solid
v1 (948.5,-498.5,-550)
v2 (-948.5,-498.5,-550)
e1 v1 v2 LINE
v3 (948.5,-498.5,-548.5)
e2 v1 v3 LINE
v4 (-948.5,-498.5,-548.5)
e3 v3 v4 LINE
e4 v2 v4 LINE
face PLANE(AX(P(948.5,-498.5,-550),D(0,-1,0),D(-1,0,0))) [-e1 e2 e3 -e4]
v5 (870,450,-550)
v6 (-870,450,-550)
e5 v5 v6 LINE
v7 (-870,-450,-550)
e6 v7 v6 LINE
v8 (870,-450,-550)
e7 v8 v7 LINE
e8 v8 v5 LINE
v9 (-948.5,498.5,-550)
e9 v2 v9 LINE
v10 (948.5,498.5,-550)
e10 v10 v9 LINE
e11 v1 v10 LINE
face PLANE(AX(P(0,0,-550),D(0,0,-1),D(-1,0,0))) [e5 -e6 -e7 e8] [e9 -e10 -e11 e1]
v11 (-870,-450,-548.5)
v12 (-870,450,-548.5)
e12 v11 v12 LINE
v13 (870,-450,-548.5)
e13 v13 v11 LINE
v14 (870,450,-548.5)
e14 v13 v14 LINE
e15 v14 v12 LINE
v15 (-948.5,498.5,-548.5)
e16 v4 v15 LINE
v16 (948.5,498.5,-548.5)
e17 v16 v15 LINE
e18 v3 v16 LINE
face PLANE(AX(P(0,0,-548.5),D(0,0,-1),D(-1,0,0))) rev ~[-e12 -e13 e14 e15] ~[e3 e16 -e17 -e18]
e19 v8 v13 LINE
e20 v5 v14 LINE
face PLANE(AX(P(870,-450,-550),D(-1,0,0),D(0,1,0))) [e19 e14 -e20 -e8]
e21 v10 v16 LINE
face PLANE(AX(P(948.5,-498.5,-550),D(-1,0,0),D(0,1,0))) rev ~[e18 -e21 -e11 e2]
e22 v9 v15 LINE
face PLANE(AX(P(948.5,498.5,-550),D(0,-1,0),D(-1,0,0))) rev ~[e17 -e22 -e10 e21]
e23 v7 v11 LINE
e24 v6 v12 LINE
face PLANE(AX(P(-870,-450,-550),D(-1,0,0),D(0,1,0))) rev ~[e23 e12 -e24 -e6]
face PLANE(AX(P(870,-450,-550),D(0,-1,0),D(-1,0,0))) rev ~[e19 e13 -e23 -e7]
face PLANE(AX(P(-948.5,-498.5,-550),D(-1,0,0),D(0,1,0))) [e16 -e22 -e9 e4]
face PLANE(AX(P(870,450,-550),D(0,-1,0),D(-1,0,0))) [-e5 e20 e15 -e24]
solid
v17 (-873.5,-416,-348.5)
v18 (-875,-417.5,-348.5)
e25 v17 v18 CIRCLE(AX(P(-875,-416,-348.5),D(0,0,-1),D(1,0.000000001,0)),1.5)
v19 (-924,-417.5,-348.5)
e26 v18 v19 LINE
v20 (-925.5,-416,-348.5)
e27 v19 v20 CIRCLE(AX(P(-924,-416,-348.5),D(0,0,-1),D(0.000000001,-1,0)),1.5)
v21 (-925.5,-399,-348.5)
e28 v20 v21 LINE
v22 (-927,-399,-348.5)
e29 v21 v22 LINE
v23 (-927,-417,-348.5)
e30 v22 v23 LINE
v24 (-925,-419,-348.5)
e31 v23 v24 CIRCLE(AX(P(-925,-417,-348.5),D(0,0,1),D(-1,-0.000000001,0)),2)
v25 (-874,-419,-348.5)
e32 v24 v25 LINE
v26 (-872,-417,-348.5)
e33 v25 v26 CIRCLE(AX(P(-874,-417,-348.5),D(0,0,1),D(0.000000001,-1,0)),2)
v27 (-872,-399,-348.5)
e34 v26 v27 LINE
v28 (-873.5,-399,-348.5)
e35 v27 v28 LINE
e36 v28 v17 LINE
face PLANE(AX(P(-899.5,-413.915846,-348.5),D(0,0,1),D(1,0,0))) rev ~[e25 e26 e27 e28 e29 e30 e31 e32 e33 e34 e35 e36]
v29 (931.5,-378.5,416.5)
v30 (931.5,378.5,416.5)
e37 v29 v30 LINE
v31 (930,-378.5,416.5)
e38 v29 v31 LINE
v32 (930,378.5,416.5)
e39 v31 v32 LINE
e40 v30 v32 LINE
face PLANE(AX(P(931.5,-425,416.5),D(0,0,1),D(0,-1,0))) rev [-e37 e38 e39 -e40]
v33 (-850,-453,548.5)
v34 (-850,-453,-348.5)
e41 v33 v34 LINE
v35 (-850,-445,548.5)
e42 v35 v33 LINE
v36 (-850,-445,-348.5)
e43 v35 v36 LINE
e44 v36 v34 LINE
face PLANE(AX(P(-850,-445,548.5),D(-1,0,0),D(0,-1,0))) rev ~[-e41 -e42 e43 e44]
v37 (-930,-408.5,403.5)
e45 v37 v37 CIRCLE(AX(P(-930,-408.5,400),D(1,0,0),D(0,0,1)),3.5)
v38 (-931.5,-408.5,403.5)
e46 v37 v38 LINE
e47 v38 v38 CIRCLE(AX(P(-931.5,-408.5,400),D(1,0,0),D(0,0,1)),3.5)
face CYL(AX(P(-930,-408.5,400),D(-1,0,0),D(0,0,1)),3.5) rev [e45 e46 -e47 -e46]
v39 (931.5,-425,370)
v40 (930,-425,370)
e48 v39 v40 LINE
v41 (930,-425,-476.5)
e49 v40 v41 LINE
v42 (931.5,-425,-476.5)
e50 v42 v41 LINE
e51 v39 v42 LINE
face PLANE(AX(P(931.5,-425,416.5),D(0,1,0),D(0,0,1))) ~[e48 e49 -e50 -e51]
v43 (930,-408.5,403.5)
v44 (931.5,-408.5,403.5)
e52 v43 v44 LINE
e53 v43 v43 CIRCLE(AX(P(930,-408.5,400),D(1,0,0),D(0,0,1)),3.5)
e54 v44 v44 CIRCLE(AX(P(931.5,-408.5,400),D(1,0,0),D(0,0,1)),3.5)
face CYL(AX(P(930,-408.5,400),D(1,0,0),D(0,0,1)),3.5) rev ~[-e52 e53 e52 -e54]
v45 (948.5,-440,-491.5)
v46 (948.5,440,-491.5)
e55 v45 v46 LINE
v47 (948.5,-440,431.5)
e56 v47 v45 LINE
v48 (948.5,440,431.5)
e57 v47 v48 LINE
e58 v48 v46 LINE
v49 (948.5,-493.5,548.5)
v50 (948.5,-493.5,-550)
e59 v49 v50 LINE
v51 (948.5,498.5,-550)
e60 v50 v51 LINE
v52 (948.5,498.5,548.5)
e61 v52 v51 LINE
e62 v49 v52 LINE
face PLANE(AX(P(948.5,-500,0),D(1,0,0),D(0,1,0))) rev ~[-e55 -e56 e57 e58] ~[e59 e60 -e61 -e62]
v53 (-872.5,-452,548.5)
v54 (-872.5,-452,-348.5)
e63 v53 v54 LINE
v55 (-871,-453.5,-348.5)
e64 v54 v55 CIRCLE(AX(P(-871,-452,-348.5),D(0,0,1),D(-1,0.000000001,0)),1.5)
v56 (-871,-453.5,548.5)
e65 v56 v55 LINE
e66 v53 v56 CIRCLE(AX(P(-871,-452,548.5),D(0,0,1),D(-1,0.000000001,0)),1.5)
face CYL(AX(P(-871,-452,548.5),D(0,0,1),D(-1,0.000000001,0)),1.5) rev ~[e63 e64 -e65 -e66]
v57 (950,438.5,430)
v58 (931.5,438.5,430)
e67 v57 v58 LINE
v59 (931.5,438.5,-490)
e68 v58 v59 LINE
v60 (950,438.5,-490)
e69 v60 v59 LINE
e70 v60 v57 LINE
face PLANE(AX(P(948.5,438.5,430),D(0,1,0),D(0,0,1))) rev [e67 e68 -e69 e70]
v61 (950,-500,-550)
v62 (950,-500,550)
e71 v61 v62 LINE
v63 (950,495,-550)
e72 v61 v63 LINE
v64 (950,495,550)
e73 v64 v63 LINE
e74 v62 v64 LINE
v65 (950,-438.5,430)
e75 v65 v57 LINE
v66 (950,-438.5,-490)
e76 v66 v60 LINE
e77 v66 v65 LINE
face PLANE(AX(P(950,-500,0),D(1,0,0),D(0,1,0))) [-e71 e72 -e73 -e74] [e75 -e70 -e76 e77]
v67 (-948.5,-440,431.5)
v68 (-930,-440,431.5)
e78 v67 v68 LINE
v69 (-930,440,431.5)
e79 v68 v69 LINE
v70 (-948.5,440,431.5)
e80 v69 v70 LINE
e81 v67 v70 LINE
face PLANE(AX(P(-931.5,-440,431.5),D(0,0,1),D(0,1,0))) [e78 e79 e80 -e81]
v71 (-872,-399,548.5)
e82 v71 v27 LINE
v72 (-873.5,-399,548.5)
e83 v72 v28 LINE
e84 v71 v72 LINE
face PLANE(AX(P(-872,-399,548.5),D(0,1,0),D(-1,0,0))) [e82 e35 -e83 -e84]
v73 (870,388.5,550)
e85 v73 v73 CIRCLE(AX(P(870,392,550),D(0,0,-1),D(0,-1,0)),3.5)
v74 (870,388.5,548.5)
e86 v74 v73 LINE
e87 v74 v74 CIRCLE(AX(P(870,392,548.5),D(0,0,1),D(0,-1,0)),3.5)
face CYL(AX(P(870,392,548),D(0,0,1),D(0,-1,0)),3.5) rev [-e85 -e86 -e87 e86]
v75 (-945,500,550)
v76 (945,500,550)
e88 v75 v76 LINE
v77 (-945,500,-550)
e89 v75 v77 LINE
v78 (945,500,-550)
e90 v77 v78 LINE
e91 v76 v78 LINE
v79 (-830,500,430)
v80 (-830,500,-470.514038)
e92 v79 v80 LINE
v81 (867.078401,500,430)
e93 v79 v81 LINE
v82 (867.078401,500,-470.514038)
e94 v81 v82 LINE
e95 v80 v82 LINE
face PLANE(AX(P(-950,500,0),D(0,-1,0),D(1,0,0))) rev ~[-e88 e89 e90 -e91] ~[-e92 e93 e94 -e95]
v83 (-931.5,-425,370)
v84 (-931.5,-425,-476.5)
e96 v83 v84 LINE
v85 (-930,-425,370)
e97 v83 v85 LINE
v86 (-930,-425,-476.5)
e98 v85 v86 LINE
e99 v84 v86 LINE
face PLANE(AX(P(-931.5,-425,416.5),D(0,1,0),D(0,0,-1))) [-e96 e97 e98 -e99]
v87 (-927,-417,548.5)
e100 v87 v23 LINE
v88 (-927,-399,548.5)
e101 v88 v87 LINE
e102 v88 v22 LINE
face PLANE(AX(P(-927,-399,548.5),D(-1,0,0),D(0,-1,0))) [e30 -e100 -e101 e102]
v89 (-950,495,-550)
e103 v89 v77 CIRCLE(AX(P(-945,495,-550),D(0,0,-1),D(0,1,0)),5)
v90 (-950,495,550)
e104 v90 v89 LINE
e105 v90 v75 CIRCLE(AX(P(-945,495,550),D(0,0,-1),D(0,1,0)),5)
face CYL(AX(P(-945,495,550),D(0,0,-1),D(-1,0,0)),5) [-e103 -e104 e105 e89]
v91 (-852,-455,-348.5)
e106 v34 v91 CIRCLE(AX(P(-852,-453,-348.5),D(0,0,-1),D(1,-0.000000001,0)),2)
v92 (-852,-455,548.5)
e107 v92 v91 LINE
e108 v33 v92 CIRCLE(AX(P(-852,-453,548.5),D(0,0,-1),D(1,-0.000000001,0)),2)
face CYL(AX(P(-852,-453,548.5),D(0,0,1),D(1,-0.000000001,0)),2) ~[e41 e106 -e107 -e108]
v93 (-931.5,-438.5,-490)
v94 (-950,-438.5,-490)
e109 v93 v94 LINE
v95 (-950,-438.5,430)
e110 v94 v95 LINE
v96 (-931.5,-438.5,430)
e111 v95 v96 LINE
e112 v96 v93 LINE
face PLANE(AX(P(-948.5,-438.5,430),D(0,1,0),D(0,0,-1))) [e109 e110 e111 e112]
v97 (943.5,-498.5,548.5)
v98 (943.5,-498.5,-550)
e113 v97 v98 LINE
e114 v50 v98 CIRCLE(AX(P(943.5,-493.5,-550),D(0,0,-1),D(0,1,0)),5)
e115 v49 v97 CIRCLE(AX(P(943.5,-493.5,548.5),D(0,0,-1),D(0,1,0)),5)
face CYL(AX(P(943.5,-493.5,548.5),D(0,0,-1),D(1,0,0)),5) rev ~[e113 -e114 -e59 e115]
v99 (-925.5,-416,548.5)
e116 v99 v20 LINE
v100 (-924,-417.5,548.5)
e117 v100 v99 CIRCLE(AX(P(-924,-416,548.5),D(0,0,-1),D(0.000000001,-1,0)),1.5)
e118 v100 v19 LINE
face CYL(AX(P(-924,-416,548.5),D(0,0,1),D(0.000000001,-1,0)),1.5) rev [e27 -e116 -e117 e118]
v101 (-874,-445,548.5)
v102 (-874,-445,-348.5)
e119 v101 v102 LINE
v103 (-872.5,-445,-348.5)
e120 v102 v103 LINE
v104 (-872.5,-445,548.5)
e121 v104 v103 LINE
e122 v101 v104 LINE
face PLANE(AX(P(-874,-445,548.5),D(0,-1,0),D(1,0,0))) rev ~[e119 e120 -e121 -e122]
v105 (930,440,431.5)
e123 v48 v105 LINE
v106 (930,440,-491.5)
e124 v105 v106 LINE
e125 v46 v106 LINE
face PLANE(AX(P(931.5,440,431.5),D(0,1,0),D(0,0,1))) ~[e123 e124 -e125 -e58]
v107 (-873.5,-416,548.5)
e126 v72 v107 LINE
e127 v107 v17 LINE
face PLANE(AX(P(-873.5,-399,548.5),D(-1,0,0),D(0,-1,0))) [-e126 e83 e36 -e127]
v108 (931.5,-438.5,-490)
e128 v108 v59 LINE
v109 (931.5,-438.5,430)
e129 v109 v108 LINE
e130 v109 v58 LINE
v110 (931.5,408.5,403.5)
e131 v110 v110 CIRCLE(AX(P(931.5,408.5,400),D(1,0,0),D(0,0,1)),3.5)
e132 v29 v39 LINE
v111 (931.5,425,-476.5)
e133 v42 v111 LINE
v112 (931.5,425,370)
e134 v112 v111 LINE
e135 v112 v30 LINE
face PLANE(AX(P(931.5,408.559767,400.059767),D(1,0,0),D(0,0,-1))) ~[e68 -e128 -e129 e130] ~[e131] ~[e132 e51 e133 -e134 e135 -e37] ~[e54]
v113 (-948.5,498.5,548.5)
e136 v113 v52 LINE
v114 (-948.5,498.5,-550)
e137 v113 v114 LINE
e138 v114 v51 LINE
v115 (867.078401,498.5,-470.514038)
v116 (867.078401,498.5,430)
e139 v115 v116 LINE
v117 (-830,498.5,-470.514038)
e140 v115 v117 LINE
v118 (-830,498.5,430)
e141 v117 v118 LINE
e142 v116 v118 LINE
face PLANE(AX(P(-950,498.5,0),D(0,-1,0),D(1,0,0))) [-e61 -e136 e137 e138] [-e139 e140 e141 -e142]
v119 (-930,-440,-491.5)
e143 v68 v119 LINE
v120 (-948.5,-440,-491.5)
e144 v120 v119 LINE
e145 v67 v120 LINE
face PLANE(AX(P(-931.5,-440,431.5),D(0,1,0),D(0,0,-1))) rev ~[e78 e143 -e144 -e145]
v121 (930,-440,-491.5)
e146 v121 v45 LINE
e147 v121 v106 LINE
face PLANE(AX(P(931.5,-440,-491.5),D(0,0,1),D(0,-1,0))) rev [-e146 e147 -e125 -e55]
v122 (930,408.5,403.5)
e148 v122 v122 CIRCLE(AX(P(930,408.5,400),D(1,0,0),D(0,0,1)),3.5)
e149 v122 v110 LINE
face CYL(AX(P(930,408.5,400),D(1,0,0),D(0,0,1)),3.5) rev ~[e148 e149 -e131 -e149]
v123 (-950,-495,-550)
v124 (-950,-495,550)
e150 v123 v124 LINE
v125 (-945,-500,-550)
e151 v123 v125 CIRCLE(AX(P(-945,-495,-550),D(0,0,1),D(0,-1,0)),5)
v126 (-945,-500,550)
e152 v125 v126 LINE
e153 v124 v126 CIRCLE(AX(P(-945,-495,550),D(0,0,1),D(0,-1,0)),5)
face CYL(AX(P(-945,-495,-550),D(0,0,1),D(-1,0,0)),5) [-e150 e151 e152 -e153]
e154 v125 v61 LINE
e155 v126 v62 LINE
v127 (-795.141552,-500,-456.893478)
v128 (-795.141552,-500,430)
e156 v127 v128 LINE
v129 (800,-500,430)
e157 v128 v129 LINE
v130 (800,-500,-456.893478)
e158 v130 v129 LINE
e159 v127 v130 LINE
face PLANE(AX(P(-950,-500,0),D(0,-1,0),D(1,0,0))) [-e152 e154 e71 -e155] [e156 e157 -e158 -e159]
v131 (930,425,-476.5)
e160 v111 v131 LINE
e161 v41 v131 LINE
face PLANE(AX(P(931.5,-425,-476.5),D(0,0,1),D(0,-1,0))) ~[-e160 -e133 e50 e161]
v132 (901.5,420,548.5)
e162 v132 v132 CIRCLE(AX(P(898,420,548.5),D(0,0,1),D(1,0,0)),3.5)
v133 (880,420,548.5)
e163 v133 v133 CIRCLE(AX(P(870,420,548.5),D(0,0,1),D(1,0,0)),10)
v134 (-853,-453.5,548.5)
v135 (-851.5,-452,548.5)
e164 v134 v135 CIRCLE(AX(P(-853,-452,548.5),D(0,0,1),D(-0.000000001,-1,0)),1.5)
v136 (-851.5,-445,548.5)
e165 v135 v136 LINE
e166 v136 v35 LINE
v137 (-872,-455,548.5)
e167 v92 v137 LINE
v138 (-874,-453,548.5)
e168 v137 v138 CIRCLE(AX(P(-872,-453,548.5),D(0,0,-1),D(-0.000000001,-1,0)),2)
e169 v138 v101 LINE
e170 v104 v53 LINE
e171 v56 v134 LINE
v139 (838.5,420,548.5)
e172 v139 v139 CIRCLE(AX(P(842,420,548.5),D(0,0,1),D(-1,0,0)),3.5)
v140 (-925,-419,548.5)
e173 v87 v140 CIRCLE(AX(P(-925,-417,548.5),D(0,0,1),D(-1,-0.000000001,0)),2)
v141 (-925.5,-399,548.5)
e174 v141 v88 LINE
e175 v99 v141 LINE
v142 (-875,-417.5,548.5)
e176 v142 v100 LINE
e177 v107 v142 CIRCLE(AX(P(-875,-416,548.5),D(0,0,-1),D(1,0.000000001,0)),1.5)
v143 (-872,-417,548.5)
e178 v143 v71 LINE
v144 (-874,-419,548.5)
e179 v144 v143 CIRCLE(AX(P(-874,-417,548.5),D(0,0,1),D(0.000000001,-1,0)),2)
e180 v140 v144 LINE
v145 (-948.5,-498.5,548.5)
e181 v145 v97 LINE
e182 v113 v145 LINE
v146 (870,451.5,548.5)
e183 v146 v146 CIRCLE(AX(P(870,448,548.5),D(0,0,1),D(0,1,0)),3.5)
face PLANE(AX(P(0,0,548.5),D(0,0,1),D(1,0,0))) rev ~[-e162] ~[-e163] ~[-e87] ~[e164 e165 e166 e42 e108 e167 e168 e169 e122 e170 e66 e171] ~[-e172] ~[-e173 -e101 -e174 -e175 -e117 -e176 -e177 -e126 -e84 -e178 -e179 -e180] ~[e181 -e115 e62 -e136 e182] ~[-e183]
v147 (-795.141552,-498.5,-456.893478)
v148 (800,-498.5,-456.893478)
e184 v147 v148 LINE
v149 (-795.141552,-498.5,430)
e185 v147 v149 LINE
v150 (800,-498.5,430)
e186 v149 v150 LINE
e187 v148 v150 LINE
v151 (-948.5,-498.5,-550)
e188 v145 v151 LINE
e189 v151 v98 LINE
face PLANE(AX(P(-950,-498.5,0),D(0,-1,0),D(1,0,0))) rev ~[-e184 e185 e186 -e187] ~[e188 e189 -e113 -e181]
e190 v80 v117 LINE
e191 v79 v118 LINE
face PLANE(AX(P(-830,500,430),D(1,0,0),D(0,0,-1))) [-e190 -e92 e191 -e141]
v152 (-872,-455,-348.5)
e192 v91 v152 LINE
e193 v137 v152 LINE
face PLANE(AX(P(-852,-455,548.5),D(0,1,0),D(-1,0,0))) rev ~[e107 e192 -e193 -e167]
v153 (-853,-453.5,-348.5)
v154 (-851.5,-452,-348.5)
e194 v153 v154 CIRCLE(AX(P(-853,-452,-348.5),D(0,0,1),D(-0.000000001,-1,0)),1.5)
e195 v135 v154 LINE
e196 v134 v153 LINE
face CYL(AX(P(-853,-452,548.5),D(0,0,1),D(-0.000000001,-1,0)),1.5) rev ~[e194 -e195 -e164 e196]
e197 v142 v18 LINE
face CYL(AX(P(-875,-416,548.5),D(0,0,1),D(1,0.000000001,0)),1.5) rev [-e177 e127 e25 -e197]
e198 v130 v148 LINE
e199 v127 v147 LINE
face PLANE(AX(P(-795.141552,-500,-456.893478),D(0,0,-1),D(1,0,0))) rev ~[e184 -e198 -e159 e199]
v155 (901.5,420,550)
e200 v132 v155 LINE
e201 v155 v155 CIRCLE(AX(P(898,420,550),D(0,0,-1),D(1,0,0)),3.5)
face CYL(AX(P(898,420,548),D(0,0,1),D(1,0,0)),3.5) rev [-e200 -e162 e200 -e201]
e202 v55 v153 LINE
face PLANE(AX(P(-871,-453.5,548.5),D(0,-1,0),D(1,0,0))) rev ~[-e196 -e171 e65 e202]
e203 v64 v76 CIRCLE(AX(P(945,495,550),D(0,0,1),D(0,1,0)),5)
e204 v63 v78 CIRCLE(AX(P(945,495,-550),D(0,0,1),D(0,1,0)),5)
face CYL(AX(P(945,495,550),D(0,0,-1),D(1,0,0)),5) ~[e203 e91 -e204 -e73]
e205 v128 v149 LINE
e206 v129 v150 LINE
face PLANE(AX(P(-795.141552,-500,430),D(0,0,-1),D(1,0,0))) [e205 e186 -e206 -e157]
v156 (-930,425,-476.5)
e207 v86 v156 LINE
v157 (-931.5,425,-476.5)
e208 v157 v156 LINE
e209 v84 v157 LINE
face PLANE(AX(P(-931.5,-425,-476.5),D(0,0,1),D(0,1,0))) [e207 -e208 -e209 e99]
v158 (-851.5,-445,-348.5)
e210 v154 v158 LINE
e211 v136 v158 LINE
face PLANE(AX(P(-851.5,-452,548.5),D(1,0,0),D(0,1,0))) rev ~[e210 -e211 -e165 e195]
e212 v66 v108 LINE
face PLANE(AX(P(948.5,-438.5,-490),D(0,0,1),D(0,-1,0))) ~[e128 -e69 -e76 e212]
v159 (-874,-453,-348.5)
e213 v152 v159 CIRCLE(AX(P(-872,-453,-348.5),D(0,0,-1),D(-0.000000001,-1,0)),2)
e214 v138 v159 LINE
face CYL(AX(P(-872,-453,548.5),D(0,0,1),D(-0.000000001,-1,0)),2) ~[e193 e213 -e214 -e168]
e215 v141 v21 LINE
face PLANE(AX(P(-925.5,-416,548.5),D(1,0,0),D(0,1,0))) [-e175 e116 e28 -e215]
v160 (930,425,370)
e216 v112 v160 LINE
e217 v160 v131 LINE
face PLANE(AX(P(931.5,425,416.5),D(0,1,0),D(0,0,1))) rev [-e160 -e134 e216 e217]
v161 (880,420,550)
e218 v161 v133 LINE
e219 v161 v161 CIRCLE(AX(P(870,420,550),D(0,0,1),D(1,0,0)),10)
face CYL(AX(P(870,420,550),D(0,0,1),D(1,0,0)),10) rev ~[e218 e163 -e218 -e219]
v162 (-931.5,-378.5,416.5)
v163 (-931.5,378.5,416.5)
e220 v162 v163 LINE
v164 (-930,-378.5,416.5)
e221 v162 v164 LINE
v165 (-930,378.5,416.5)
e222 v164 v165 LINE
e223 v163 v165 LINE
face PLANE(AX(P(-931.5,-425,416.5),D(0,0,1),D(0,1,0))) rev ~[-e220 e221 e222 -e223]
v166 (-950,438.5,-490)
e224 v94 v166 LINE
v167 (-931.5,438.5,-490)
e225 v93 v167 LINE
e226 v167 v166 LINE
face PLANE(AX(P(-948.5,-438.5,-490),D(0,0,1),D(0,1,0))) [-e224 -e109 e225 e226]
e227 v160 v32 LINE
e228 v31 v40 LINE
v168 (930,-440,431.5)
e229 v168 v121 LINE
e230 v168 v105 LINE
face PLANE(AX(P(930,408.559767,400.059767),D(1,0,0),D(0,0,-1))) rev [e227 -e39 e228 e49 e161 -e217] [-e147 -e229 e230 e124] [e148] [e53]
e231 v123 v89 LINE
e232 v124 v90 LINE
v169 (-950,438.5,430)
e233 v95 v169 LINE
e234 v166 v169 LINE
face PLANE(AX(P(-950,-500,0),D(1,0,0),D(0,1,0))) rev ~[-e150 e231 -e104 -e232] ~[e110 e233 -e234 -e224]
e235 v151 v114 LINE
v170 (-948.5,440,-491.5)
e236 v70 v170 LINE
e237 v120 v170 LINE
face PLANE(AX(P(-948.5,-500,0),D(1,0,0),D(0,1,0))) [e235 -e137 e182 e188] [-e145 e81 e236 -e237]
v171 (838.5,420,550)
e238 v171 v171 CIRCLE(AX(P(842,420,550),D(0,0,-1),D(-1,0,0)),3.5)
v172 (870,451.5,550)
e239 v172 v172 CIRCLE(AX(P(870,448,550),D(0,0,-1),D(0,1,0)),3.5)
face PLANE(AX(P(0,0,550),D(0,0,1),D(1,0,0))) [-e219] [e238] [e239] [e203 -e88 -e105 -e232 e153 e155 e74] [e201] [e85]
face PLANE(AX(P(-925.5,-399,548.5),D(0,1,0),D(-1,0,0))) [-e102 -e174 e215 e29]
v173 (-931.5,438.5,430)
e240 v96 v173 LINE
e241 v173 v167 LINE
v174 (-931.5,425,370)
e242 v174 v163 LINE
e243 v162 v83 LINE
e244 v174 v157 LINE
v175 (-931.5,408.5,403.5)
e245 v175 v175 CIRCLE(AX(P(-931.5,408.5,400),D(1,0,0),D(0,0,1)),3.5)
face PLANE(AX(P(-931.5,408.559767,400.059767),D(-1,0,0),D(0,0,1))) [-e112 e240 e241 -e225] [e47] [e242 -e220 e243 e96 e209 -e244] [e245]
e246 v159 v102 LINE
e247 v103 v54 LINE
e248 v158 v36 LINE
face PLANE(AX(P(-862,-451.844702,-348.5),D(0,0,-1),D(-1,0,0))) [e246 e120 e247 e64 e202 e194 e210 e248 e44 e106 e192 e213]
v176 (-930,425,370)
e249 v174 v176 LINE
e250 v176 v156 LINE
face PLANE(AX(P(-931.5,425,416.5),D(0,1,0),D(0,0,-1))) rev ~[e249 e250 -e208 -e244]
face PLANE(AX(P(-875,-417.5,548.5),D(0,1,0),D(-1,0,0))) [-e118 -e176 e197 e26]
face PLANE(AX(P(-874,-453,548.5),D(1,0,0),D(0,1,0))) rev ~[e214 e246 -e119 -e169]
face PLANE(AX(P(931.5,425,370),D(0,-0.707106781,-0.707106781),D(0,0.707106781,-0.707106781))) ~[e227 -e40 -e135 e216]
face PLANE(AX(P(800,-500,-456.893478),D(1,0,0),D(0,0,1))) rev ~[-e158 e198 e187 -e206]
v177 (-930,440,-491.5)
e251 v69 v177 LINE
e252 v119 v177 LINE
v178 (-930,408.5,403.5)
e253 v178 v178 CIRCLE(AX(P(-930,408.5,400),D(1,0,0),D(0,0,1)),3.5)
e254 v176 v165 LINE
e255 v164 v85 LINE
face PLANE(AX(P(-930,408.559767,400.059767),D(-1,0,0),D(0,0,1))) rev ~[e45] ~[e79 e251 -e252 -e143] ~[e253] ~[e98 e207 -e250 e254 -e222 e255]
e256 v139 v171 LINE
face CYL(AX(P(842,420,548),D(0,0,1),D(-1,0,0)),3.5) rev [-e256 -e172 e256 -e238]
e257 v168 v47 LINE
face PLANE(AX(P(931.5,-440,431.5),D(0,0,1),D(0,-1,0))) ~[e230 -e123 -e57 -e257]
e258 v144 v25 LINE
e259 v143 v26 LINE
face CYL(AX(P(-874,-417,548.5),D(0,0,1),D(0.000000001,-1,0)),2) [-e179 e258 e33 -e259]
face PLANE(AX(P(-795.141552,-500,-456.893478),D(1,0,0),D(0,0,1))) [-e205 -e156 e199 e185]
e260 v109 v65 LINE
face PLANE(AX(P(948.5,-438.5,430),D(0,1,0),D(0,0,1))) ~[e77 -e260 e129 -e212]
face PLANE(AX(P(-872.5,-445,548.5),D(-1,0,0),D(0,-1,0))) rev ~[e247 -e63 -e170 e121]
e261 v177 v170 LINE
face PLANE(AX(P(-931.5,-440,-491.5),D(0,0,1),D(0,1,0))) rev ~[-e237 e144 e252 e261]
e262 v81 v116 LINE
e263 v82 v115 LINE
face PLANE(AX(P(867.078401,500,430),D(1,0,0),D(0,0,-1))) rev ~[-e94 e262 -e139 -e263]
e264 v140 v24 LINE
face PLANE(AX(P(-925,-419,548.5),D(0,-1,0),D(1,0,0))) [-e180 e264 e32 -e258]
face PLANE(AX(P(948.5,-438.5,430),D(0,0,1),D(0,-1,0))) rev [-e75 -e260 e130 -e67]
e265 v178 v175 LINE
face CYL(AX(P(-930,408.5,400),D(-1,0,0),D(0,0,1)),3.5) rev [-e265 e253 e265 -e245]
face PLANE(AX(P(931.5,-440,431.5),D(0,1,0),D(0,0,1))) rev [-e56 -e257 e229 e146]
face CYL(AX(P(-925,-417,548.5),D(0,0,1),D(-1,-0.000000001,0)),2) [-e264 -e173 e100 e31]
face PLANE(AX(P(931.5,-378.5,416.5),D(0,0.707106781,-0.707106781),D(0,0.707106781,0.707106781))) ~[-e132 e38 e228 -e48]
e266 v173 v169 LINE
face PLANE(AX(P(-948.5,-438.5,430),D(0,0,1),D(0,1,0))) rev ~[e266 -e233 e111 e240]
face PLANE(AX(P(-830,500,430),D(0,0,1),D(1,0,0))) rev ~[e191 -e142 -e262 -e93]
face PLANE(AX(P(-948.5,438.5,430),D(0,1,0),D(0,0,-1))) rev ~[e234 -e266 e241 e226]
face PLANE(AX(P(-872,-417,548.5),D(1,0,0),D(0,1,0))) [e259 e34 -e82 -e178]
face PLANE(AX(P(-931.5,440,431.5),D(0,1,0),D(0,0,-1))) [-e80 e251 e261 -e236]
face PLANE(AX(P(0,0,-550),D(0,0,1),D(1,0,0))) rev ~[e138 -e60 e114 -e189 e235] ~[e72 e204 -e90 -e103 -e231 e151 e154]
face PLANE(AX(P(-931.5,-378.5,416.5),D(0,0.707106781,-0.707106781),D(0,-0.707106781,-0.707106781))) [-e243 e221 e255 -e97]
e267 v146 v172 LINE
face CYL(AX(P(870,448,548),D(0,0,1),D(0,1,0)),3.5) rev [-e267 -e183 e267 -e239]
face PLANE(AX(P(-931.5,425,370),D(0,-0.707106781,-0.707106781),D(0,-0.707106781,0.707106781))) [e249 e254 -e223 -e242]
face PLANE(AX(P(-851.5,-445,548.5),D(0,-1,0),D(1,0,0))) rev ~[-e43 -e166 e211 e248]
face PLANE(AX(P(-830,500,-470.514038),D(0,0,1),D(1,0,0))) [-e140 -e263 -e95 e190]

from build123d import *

# Parameters (mm, degrees)
SKETCH_1_W                     = 1900
SKETCH_1_H                     = 1000
EXTRUDE_1_DEPTH                = 550
SHELL_1_T                      = -1.5
SKETCH_2_W                     = 1897
SKETCH_2_H                     = 997
SKETCH_2_W_2                   = 1740
SKETCH_2_H_2                   = 900
EXTRUDE_2_DEPTH                = 1.5
FILLET_1_R                     = 5
SKETCH_9_R                     = 10
CUT_EXTRUDE_3_DEPTH            = 10
SKETCH_10_W                    = 1697.078401096
SKETCH_10_H                    = 900.514037569
CUT_EXTRUDE_4_DEPTH            = 20
SKETCH_18_W                    = 920
SKETCH_18_H                    = 877
CUT_EXTRUDE_5_DEPTH            = 1.5
SKETCH_34_W                    = 923
SKETCH_34_H                    = 880
SKETCH_34_W_2                  = 920
SKETCH_34_H_2                  = 877
EXTRUDE_6_DEPTH                = 17
SKETCH_35_W                    = 923
SKETCH_35_H                    = 880
SKETCH_35_W_2                  = 893
SKETCH_35_H_2                  = 850
EXTRUDE_7_DEPTH                = 1.5
EXTRUDE_8_DEPTH                = 1.5
HOLE_WIZARD_7_0_7_1_AT_2_COUNT = 2
HOLE_WIZARD_7_0_7_1_AT_2_PITCH = 817
EXTRUDE_9_DEPTH                = 897
EXTRUDE_10_DEPTH               = 897
PATTERN_CIRCULAR_2_COUNT       = 4
SKETCH_84_W                    = 1595.14155231
SKETCH_84_H                    = 886.893477963
CUT_EXTRUDE_22_DEPTH           = 10


with BuildPart() as part:
    # 草图1 → 凸台-拉伸1 (new body, symmetric)
    with BuildSketch(Plane.XY):
        Rectangle(SKETCH_1_W, SKETCH_1_H)
    extrude(amount=EXTRUDE_1_DEPTH, both=True)

    # 抽壳1
    shell_1_openings = [part.faces().sort_by_distance(p)[0] for p in [
        (0, 0, -550),
    ]]
    offset(amount=SHELL_1_T, openings=shell_1_openings, kind=Kind.INTERSECTION)

    # 圆角1
    fillet_1_edges = [part.edges().sort_by_distance(p)[0] for p in [
        (948.5, -498.5, -0.75),
        (-950, 500, 0),
        (950, 500, 0),
        (-950, -500, 0),
    ]]
    fillet(fillet_1_edges, radius=FILLET_1_R)

    # 草图9 → 切除-拉伸3 (cut)
    with BuildSketch(Plane.XY.offset(550)):
        with Locations((870, 420)):
            Circle(SKETCH_9_R)
    extrude(amount=-CUT_EXTRUDE_3_DEPTH, mode=Mode.SUBTRACT)

    # 草图10 → 切除-拉伸4 (cut)
    with BuildSketch(Plane(origin=(0, 500, 0), x_dir=(1, 0, 0), z_dir=(0, 1, 0))):
        with Locations((18.539200548, 20.257018785)):
            Rectangle(SKETCH_10_W, SKETCH_10_H)
    extrude(amount=-CUT_EXTRUDE_4_DEPTH, mode=Mode.SUBTRACT)

    # 草图18 → 切除-拉伸5 (cut)
    with BuildSketch(Plane.ZY.offset(950)):
        with Locations((-30, 0)):
            Rectangle(SKETCH_18_W, SKETCH_18_H)
    cut_extrude_5 = extrude(amount=-CUT_EXTRUDE_5_DEPTH, mode=Mode.SUBTRACT)

    # 草图34 → 凸台-拉伸6 (add)
    with BuildSketch(Plane(origin=(-948.5, 0, 0), x_dir=(0, 0, -1), z_dir=(1, 0, 0))):
        with Locations((30, 0)):
            Rectangle(SKETCH_34_W, SKETCH_34_H)
        with Locations((30, 0)):
            Rectangle(SKETCH_34_W_2, SKETCH_34_H_2, mode=Mode.SUBTRACT)
    extrude_6 = extrude(amount=EXTRUDE_6_DEPTH)

    # 草图35 → 凸台-拉伸7 (add)
    with BuildSketch(Plane(origin=(-931.5, 0, 0), x_dir=(0, 0, -1), z_dir=(1, 0, 0))):
        with Locations((30, 0)):
            Rectangle(SKETCH_35_W, SKETCH_35_H)
        with Locations((30, 0)):
            Rectangle(SKETCH_35_W_2, SKETCH_35_H_2, mode=Mode.SUBTRACT)
    extrude_7 = extrude(amount=EXTRUDE_7_DEPTH)

    # 草图36 → 凸台-拉伸8 (add)
    with BuildSketch(Plane.ZY.offset(931.5)):
        Polygon((370, 425), (416.5, 378.5), (416.5, 425), align=None)
        Polygon((416.5, -378.5), (370, -425), (416.5, -425), align=None)
    extrude_8 = extrude(amount=-EXTRUDE_8_DEPTH)

    # 草图37 → Ø7.0 (7) 直径孔1 (revolve, cut)
    with BuildSketch(Plane(origin=(-931.5, 408.5, 400), x_dir=(0, 0, 1), z_dir=(0, 1, 0))):
        Polygon((0, 0), (0, 3.603012167), (3.5, 1.5), (3.5, 0), align=None)
    hole_wizard_7_0_7_1 = revolve(axis=Axis((-937.85, 408.5, 400), (1, 0, 0)), mode=Mode.SUBTRACT)

    # Ø7.0 (7) 直径孔1 at 2: Ø7.0 (7) 直径孔1 ×2
    with Locations(*[(0, -i * HOLE_WIZARD_7_0_7_1_AT_2_PITCH, 0) for i in range(1, HOLE_WIZARD_7_0_7_1_AT_2_COUNT)]):
        add(hole_wizard_7_0_7_1, mode=Mode.SUBTRACT)

    # 镜向4: 切除-拉伸5 across plane
    add(cut_extrude_5.mirror(Plane(origin=(0, 0, 0), x_dir=(0, 0, 1), z_dir=(1, 0, 0))), mode=Mode.SUBTRACT)

    # 镜向7: 凸台-拉伸6 across plane
    add(extrude_6.mirror(Plane(origin=(0, 0, 0), x_dir=(0, 0, 1), z_dir=(1, 0, 0))))

    # 镜向8: 凸台-拉伸7 across plane
    add(extrude_7.mirror(Plane(origin=(0, 0, 0), x_dir=(0, 0, 1), z_dir=(1, 0, 0))))

    # 镜向10: 凸台-拉伸8 across plane
    add(extrude_8.mirror(Plane(origin=(0, 0, 0), x_dir=(0, 0, 1), z_dir=(1, 0, 0))))

    # 镜向11: Ø7.0 (7) 直径孔1 across plane
    add(hole_wizard_7_0_7_1.mirror(Plane(origin=(0, 0, 0), x_dir=(0, 0, 1), z_dir=(1, 0, 0))), mode=Mode.SUBTRACT)

    # 镜向11 copy 1 sketch → 镜向11 copy 1 (revolve, cut)
    with BuildSketch(Plane(origin=(931.5, -408.5, 400), x_dir=(0, 0, 1), z_dir=(0, 1, 0))):
        Polygon((0, 0), (0, -3.603012167), (3.5, -1.5), (3.5, 0), align=None)
    revolve(axis=Axis((937.85, -408.5, 400), (1, 0, 0)), mode=Mode.SUBTRACT)

    # 草图53 → 凸台-拉伸9 (add)
    with BuildSketch(Plane(origin=(0, 0, 548.5), x_dir=(-1, 0, 0), z_dir=(0, 0, -1))):
        with BuildLine():
            Line((850, -445), (850, -453))
            ThreePointArc((850, -453), (850.585786438, -454.414213562), (852, -455))
            Line((852, -455), (872, -455))
            ThreePointArc((872, -455), (873.414213562, -454.414213562), (874, -453))
            Line((874, -453), (874, -445))
            Line((874, -445), (872.5, -445))
            Line((872.5, -445), (872.5, -452))
            ThreePointArc((872.5, -452), (872.060660172, -453.060660172), (871, -453.5))
            Line((871, -453.5), (853, -453.5))
            ThreePointArc((853, -453.5), (851.939339828, -453.060660172), (851.5, -452))
            Line((851.5, -452), (851.5, -445))
            Line((851.5, -445), (850, -445))
        make_face()
    extrude(amount=EXTRUDE_9_DEPTH)

    # 草图54 → 凸台-拉伸10 (add)
    with BuildSketch(Plane(origin=(0, 0, 548.5), x_dir=(-1, 0, 0), z_dir=(0, 0, -1))):
        with BuildLine():
            Line((927, -399), (927, -417))
            ThreePointArc((927, -417), (926.414213562, -418.414213562), (925, -419))
            Line((925, -419), (874, -419))
            ThreePointArc((874, -419), (872.585786438, -418.414213562), (872, -417))
            Line((872, -417), (872, -399))
            Line((872, -399), (873.5, -399))
            Line((873.5, -399), (873.5, -416))
            ThreePointArc((873.5, -416), (873.939339828, -417.060660172), (875, -417.5))
            Line((875, -417.5), (924, -417.5))
            ThreePointArc((924, -417.5), (925.060660172, -417.060660172), (925.5, -416))
            Line((925.5, -416), (925.5, -399))
            Line((925.5, -399), (927, -399))
        make_face()
    extrude(amount=EXTRUDE_10_DEPTH)

    # 草图56 → Ø7.0 (7) 直径孔3 (revolve, cut)
    with BuildSketch(Plane(origin=(870, 392, 550), x_dir=(0, -1, 0), z_dir=(1, 0, 0))):
        Polygon((0, 0), (0, 4.103012167), (3.5, 2), (3.5, 0), align=None)
    hole_wizard_7_0_7_3 = revolve(axis=Axis((870, 392, 556.35), (0, 0, -1)), mode=Mode.SUBTRACT)

    # 阵列(圆周)2: Ø7.0 (7) 直径孔3 ×4 about axis
    pattern_circular_2_axis = Axis((870, 420, 0), (0, 0, 1))
    for i in range(1, PATTERN_CIRCULAR_2_COUNT):
        add(hole_wizard_7_0_7_3.rotate(pattern_circular_2_axis, i * 360 / PATTERN_CIRCULAR_2_COUNT), mode=Mode.SUBTRACT)

    # 草图84 → 切除-拉伸22 (cut)
    with BuildSketch(Plane.XZ.offset(500)):
        with Locations((2.429223845, -13.446738982)):
            Rectangle(SKETCH_84_W, SKETCH_84_H)
    extrude(amount=-CUT_EXTRUDE_22_DEPTH, mode=Mode.SUBTRACT)


with BuildPart() as body_2:
    # 草图2 → 凸台-拉伸2 (new body)
    with BuildSketch(Plane(origin=(0, 0, -550), x_dir=(-1, 0, 0), z_dir=(0, 0, -1))):
        Rectangle(SKETCH_2_W, SKETCH_2_H)
        Rectangle(SKETCH_2_W_2, SKETCH_2_H_2, mode=Mode.SUBTRACT)
    extrude(amount=-EXTRUDE_2_DEPTH)


solid = Compound([part.part, body_2.part])
